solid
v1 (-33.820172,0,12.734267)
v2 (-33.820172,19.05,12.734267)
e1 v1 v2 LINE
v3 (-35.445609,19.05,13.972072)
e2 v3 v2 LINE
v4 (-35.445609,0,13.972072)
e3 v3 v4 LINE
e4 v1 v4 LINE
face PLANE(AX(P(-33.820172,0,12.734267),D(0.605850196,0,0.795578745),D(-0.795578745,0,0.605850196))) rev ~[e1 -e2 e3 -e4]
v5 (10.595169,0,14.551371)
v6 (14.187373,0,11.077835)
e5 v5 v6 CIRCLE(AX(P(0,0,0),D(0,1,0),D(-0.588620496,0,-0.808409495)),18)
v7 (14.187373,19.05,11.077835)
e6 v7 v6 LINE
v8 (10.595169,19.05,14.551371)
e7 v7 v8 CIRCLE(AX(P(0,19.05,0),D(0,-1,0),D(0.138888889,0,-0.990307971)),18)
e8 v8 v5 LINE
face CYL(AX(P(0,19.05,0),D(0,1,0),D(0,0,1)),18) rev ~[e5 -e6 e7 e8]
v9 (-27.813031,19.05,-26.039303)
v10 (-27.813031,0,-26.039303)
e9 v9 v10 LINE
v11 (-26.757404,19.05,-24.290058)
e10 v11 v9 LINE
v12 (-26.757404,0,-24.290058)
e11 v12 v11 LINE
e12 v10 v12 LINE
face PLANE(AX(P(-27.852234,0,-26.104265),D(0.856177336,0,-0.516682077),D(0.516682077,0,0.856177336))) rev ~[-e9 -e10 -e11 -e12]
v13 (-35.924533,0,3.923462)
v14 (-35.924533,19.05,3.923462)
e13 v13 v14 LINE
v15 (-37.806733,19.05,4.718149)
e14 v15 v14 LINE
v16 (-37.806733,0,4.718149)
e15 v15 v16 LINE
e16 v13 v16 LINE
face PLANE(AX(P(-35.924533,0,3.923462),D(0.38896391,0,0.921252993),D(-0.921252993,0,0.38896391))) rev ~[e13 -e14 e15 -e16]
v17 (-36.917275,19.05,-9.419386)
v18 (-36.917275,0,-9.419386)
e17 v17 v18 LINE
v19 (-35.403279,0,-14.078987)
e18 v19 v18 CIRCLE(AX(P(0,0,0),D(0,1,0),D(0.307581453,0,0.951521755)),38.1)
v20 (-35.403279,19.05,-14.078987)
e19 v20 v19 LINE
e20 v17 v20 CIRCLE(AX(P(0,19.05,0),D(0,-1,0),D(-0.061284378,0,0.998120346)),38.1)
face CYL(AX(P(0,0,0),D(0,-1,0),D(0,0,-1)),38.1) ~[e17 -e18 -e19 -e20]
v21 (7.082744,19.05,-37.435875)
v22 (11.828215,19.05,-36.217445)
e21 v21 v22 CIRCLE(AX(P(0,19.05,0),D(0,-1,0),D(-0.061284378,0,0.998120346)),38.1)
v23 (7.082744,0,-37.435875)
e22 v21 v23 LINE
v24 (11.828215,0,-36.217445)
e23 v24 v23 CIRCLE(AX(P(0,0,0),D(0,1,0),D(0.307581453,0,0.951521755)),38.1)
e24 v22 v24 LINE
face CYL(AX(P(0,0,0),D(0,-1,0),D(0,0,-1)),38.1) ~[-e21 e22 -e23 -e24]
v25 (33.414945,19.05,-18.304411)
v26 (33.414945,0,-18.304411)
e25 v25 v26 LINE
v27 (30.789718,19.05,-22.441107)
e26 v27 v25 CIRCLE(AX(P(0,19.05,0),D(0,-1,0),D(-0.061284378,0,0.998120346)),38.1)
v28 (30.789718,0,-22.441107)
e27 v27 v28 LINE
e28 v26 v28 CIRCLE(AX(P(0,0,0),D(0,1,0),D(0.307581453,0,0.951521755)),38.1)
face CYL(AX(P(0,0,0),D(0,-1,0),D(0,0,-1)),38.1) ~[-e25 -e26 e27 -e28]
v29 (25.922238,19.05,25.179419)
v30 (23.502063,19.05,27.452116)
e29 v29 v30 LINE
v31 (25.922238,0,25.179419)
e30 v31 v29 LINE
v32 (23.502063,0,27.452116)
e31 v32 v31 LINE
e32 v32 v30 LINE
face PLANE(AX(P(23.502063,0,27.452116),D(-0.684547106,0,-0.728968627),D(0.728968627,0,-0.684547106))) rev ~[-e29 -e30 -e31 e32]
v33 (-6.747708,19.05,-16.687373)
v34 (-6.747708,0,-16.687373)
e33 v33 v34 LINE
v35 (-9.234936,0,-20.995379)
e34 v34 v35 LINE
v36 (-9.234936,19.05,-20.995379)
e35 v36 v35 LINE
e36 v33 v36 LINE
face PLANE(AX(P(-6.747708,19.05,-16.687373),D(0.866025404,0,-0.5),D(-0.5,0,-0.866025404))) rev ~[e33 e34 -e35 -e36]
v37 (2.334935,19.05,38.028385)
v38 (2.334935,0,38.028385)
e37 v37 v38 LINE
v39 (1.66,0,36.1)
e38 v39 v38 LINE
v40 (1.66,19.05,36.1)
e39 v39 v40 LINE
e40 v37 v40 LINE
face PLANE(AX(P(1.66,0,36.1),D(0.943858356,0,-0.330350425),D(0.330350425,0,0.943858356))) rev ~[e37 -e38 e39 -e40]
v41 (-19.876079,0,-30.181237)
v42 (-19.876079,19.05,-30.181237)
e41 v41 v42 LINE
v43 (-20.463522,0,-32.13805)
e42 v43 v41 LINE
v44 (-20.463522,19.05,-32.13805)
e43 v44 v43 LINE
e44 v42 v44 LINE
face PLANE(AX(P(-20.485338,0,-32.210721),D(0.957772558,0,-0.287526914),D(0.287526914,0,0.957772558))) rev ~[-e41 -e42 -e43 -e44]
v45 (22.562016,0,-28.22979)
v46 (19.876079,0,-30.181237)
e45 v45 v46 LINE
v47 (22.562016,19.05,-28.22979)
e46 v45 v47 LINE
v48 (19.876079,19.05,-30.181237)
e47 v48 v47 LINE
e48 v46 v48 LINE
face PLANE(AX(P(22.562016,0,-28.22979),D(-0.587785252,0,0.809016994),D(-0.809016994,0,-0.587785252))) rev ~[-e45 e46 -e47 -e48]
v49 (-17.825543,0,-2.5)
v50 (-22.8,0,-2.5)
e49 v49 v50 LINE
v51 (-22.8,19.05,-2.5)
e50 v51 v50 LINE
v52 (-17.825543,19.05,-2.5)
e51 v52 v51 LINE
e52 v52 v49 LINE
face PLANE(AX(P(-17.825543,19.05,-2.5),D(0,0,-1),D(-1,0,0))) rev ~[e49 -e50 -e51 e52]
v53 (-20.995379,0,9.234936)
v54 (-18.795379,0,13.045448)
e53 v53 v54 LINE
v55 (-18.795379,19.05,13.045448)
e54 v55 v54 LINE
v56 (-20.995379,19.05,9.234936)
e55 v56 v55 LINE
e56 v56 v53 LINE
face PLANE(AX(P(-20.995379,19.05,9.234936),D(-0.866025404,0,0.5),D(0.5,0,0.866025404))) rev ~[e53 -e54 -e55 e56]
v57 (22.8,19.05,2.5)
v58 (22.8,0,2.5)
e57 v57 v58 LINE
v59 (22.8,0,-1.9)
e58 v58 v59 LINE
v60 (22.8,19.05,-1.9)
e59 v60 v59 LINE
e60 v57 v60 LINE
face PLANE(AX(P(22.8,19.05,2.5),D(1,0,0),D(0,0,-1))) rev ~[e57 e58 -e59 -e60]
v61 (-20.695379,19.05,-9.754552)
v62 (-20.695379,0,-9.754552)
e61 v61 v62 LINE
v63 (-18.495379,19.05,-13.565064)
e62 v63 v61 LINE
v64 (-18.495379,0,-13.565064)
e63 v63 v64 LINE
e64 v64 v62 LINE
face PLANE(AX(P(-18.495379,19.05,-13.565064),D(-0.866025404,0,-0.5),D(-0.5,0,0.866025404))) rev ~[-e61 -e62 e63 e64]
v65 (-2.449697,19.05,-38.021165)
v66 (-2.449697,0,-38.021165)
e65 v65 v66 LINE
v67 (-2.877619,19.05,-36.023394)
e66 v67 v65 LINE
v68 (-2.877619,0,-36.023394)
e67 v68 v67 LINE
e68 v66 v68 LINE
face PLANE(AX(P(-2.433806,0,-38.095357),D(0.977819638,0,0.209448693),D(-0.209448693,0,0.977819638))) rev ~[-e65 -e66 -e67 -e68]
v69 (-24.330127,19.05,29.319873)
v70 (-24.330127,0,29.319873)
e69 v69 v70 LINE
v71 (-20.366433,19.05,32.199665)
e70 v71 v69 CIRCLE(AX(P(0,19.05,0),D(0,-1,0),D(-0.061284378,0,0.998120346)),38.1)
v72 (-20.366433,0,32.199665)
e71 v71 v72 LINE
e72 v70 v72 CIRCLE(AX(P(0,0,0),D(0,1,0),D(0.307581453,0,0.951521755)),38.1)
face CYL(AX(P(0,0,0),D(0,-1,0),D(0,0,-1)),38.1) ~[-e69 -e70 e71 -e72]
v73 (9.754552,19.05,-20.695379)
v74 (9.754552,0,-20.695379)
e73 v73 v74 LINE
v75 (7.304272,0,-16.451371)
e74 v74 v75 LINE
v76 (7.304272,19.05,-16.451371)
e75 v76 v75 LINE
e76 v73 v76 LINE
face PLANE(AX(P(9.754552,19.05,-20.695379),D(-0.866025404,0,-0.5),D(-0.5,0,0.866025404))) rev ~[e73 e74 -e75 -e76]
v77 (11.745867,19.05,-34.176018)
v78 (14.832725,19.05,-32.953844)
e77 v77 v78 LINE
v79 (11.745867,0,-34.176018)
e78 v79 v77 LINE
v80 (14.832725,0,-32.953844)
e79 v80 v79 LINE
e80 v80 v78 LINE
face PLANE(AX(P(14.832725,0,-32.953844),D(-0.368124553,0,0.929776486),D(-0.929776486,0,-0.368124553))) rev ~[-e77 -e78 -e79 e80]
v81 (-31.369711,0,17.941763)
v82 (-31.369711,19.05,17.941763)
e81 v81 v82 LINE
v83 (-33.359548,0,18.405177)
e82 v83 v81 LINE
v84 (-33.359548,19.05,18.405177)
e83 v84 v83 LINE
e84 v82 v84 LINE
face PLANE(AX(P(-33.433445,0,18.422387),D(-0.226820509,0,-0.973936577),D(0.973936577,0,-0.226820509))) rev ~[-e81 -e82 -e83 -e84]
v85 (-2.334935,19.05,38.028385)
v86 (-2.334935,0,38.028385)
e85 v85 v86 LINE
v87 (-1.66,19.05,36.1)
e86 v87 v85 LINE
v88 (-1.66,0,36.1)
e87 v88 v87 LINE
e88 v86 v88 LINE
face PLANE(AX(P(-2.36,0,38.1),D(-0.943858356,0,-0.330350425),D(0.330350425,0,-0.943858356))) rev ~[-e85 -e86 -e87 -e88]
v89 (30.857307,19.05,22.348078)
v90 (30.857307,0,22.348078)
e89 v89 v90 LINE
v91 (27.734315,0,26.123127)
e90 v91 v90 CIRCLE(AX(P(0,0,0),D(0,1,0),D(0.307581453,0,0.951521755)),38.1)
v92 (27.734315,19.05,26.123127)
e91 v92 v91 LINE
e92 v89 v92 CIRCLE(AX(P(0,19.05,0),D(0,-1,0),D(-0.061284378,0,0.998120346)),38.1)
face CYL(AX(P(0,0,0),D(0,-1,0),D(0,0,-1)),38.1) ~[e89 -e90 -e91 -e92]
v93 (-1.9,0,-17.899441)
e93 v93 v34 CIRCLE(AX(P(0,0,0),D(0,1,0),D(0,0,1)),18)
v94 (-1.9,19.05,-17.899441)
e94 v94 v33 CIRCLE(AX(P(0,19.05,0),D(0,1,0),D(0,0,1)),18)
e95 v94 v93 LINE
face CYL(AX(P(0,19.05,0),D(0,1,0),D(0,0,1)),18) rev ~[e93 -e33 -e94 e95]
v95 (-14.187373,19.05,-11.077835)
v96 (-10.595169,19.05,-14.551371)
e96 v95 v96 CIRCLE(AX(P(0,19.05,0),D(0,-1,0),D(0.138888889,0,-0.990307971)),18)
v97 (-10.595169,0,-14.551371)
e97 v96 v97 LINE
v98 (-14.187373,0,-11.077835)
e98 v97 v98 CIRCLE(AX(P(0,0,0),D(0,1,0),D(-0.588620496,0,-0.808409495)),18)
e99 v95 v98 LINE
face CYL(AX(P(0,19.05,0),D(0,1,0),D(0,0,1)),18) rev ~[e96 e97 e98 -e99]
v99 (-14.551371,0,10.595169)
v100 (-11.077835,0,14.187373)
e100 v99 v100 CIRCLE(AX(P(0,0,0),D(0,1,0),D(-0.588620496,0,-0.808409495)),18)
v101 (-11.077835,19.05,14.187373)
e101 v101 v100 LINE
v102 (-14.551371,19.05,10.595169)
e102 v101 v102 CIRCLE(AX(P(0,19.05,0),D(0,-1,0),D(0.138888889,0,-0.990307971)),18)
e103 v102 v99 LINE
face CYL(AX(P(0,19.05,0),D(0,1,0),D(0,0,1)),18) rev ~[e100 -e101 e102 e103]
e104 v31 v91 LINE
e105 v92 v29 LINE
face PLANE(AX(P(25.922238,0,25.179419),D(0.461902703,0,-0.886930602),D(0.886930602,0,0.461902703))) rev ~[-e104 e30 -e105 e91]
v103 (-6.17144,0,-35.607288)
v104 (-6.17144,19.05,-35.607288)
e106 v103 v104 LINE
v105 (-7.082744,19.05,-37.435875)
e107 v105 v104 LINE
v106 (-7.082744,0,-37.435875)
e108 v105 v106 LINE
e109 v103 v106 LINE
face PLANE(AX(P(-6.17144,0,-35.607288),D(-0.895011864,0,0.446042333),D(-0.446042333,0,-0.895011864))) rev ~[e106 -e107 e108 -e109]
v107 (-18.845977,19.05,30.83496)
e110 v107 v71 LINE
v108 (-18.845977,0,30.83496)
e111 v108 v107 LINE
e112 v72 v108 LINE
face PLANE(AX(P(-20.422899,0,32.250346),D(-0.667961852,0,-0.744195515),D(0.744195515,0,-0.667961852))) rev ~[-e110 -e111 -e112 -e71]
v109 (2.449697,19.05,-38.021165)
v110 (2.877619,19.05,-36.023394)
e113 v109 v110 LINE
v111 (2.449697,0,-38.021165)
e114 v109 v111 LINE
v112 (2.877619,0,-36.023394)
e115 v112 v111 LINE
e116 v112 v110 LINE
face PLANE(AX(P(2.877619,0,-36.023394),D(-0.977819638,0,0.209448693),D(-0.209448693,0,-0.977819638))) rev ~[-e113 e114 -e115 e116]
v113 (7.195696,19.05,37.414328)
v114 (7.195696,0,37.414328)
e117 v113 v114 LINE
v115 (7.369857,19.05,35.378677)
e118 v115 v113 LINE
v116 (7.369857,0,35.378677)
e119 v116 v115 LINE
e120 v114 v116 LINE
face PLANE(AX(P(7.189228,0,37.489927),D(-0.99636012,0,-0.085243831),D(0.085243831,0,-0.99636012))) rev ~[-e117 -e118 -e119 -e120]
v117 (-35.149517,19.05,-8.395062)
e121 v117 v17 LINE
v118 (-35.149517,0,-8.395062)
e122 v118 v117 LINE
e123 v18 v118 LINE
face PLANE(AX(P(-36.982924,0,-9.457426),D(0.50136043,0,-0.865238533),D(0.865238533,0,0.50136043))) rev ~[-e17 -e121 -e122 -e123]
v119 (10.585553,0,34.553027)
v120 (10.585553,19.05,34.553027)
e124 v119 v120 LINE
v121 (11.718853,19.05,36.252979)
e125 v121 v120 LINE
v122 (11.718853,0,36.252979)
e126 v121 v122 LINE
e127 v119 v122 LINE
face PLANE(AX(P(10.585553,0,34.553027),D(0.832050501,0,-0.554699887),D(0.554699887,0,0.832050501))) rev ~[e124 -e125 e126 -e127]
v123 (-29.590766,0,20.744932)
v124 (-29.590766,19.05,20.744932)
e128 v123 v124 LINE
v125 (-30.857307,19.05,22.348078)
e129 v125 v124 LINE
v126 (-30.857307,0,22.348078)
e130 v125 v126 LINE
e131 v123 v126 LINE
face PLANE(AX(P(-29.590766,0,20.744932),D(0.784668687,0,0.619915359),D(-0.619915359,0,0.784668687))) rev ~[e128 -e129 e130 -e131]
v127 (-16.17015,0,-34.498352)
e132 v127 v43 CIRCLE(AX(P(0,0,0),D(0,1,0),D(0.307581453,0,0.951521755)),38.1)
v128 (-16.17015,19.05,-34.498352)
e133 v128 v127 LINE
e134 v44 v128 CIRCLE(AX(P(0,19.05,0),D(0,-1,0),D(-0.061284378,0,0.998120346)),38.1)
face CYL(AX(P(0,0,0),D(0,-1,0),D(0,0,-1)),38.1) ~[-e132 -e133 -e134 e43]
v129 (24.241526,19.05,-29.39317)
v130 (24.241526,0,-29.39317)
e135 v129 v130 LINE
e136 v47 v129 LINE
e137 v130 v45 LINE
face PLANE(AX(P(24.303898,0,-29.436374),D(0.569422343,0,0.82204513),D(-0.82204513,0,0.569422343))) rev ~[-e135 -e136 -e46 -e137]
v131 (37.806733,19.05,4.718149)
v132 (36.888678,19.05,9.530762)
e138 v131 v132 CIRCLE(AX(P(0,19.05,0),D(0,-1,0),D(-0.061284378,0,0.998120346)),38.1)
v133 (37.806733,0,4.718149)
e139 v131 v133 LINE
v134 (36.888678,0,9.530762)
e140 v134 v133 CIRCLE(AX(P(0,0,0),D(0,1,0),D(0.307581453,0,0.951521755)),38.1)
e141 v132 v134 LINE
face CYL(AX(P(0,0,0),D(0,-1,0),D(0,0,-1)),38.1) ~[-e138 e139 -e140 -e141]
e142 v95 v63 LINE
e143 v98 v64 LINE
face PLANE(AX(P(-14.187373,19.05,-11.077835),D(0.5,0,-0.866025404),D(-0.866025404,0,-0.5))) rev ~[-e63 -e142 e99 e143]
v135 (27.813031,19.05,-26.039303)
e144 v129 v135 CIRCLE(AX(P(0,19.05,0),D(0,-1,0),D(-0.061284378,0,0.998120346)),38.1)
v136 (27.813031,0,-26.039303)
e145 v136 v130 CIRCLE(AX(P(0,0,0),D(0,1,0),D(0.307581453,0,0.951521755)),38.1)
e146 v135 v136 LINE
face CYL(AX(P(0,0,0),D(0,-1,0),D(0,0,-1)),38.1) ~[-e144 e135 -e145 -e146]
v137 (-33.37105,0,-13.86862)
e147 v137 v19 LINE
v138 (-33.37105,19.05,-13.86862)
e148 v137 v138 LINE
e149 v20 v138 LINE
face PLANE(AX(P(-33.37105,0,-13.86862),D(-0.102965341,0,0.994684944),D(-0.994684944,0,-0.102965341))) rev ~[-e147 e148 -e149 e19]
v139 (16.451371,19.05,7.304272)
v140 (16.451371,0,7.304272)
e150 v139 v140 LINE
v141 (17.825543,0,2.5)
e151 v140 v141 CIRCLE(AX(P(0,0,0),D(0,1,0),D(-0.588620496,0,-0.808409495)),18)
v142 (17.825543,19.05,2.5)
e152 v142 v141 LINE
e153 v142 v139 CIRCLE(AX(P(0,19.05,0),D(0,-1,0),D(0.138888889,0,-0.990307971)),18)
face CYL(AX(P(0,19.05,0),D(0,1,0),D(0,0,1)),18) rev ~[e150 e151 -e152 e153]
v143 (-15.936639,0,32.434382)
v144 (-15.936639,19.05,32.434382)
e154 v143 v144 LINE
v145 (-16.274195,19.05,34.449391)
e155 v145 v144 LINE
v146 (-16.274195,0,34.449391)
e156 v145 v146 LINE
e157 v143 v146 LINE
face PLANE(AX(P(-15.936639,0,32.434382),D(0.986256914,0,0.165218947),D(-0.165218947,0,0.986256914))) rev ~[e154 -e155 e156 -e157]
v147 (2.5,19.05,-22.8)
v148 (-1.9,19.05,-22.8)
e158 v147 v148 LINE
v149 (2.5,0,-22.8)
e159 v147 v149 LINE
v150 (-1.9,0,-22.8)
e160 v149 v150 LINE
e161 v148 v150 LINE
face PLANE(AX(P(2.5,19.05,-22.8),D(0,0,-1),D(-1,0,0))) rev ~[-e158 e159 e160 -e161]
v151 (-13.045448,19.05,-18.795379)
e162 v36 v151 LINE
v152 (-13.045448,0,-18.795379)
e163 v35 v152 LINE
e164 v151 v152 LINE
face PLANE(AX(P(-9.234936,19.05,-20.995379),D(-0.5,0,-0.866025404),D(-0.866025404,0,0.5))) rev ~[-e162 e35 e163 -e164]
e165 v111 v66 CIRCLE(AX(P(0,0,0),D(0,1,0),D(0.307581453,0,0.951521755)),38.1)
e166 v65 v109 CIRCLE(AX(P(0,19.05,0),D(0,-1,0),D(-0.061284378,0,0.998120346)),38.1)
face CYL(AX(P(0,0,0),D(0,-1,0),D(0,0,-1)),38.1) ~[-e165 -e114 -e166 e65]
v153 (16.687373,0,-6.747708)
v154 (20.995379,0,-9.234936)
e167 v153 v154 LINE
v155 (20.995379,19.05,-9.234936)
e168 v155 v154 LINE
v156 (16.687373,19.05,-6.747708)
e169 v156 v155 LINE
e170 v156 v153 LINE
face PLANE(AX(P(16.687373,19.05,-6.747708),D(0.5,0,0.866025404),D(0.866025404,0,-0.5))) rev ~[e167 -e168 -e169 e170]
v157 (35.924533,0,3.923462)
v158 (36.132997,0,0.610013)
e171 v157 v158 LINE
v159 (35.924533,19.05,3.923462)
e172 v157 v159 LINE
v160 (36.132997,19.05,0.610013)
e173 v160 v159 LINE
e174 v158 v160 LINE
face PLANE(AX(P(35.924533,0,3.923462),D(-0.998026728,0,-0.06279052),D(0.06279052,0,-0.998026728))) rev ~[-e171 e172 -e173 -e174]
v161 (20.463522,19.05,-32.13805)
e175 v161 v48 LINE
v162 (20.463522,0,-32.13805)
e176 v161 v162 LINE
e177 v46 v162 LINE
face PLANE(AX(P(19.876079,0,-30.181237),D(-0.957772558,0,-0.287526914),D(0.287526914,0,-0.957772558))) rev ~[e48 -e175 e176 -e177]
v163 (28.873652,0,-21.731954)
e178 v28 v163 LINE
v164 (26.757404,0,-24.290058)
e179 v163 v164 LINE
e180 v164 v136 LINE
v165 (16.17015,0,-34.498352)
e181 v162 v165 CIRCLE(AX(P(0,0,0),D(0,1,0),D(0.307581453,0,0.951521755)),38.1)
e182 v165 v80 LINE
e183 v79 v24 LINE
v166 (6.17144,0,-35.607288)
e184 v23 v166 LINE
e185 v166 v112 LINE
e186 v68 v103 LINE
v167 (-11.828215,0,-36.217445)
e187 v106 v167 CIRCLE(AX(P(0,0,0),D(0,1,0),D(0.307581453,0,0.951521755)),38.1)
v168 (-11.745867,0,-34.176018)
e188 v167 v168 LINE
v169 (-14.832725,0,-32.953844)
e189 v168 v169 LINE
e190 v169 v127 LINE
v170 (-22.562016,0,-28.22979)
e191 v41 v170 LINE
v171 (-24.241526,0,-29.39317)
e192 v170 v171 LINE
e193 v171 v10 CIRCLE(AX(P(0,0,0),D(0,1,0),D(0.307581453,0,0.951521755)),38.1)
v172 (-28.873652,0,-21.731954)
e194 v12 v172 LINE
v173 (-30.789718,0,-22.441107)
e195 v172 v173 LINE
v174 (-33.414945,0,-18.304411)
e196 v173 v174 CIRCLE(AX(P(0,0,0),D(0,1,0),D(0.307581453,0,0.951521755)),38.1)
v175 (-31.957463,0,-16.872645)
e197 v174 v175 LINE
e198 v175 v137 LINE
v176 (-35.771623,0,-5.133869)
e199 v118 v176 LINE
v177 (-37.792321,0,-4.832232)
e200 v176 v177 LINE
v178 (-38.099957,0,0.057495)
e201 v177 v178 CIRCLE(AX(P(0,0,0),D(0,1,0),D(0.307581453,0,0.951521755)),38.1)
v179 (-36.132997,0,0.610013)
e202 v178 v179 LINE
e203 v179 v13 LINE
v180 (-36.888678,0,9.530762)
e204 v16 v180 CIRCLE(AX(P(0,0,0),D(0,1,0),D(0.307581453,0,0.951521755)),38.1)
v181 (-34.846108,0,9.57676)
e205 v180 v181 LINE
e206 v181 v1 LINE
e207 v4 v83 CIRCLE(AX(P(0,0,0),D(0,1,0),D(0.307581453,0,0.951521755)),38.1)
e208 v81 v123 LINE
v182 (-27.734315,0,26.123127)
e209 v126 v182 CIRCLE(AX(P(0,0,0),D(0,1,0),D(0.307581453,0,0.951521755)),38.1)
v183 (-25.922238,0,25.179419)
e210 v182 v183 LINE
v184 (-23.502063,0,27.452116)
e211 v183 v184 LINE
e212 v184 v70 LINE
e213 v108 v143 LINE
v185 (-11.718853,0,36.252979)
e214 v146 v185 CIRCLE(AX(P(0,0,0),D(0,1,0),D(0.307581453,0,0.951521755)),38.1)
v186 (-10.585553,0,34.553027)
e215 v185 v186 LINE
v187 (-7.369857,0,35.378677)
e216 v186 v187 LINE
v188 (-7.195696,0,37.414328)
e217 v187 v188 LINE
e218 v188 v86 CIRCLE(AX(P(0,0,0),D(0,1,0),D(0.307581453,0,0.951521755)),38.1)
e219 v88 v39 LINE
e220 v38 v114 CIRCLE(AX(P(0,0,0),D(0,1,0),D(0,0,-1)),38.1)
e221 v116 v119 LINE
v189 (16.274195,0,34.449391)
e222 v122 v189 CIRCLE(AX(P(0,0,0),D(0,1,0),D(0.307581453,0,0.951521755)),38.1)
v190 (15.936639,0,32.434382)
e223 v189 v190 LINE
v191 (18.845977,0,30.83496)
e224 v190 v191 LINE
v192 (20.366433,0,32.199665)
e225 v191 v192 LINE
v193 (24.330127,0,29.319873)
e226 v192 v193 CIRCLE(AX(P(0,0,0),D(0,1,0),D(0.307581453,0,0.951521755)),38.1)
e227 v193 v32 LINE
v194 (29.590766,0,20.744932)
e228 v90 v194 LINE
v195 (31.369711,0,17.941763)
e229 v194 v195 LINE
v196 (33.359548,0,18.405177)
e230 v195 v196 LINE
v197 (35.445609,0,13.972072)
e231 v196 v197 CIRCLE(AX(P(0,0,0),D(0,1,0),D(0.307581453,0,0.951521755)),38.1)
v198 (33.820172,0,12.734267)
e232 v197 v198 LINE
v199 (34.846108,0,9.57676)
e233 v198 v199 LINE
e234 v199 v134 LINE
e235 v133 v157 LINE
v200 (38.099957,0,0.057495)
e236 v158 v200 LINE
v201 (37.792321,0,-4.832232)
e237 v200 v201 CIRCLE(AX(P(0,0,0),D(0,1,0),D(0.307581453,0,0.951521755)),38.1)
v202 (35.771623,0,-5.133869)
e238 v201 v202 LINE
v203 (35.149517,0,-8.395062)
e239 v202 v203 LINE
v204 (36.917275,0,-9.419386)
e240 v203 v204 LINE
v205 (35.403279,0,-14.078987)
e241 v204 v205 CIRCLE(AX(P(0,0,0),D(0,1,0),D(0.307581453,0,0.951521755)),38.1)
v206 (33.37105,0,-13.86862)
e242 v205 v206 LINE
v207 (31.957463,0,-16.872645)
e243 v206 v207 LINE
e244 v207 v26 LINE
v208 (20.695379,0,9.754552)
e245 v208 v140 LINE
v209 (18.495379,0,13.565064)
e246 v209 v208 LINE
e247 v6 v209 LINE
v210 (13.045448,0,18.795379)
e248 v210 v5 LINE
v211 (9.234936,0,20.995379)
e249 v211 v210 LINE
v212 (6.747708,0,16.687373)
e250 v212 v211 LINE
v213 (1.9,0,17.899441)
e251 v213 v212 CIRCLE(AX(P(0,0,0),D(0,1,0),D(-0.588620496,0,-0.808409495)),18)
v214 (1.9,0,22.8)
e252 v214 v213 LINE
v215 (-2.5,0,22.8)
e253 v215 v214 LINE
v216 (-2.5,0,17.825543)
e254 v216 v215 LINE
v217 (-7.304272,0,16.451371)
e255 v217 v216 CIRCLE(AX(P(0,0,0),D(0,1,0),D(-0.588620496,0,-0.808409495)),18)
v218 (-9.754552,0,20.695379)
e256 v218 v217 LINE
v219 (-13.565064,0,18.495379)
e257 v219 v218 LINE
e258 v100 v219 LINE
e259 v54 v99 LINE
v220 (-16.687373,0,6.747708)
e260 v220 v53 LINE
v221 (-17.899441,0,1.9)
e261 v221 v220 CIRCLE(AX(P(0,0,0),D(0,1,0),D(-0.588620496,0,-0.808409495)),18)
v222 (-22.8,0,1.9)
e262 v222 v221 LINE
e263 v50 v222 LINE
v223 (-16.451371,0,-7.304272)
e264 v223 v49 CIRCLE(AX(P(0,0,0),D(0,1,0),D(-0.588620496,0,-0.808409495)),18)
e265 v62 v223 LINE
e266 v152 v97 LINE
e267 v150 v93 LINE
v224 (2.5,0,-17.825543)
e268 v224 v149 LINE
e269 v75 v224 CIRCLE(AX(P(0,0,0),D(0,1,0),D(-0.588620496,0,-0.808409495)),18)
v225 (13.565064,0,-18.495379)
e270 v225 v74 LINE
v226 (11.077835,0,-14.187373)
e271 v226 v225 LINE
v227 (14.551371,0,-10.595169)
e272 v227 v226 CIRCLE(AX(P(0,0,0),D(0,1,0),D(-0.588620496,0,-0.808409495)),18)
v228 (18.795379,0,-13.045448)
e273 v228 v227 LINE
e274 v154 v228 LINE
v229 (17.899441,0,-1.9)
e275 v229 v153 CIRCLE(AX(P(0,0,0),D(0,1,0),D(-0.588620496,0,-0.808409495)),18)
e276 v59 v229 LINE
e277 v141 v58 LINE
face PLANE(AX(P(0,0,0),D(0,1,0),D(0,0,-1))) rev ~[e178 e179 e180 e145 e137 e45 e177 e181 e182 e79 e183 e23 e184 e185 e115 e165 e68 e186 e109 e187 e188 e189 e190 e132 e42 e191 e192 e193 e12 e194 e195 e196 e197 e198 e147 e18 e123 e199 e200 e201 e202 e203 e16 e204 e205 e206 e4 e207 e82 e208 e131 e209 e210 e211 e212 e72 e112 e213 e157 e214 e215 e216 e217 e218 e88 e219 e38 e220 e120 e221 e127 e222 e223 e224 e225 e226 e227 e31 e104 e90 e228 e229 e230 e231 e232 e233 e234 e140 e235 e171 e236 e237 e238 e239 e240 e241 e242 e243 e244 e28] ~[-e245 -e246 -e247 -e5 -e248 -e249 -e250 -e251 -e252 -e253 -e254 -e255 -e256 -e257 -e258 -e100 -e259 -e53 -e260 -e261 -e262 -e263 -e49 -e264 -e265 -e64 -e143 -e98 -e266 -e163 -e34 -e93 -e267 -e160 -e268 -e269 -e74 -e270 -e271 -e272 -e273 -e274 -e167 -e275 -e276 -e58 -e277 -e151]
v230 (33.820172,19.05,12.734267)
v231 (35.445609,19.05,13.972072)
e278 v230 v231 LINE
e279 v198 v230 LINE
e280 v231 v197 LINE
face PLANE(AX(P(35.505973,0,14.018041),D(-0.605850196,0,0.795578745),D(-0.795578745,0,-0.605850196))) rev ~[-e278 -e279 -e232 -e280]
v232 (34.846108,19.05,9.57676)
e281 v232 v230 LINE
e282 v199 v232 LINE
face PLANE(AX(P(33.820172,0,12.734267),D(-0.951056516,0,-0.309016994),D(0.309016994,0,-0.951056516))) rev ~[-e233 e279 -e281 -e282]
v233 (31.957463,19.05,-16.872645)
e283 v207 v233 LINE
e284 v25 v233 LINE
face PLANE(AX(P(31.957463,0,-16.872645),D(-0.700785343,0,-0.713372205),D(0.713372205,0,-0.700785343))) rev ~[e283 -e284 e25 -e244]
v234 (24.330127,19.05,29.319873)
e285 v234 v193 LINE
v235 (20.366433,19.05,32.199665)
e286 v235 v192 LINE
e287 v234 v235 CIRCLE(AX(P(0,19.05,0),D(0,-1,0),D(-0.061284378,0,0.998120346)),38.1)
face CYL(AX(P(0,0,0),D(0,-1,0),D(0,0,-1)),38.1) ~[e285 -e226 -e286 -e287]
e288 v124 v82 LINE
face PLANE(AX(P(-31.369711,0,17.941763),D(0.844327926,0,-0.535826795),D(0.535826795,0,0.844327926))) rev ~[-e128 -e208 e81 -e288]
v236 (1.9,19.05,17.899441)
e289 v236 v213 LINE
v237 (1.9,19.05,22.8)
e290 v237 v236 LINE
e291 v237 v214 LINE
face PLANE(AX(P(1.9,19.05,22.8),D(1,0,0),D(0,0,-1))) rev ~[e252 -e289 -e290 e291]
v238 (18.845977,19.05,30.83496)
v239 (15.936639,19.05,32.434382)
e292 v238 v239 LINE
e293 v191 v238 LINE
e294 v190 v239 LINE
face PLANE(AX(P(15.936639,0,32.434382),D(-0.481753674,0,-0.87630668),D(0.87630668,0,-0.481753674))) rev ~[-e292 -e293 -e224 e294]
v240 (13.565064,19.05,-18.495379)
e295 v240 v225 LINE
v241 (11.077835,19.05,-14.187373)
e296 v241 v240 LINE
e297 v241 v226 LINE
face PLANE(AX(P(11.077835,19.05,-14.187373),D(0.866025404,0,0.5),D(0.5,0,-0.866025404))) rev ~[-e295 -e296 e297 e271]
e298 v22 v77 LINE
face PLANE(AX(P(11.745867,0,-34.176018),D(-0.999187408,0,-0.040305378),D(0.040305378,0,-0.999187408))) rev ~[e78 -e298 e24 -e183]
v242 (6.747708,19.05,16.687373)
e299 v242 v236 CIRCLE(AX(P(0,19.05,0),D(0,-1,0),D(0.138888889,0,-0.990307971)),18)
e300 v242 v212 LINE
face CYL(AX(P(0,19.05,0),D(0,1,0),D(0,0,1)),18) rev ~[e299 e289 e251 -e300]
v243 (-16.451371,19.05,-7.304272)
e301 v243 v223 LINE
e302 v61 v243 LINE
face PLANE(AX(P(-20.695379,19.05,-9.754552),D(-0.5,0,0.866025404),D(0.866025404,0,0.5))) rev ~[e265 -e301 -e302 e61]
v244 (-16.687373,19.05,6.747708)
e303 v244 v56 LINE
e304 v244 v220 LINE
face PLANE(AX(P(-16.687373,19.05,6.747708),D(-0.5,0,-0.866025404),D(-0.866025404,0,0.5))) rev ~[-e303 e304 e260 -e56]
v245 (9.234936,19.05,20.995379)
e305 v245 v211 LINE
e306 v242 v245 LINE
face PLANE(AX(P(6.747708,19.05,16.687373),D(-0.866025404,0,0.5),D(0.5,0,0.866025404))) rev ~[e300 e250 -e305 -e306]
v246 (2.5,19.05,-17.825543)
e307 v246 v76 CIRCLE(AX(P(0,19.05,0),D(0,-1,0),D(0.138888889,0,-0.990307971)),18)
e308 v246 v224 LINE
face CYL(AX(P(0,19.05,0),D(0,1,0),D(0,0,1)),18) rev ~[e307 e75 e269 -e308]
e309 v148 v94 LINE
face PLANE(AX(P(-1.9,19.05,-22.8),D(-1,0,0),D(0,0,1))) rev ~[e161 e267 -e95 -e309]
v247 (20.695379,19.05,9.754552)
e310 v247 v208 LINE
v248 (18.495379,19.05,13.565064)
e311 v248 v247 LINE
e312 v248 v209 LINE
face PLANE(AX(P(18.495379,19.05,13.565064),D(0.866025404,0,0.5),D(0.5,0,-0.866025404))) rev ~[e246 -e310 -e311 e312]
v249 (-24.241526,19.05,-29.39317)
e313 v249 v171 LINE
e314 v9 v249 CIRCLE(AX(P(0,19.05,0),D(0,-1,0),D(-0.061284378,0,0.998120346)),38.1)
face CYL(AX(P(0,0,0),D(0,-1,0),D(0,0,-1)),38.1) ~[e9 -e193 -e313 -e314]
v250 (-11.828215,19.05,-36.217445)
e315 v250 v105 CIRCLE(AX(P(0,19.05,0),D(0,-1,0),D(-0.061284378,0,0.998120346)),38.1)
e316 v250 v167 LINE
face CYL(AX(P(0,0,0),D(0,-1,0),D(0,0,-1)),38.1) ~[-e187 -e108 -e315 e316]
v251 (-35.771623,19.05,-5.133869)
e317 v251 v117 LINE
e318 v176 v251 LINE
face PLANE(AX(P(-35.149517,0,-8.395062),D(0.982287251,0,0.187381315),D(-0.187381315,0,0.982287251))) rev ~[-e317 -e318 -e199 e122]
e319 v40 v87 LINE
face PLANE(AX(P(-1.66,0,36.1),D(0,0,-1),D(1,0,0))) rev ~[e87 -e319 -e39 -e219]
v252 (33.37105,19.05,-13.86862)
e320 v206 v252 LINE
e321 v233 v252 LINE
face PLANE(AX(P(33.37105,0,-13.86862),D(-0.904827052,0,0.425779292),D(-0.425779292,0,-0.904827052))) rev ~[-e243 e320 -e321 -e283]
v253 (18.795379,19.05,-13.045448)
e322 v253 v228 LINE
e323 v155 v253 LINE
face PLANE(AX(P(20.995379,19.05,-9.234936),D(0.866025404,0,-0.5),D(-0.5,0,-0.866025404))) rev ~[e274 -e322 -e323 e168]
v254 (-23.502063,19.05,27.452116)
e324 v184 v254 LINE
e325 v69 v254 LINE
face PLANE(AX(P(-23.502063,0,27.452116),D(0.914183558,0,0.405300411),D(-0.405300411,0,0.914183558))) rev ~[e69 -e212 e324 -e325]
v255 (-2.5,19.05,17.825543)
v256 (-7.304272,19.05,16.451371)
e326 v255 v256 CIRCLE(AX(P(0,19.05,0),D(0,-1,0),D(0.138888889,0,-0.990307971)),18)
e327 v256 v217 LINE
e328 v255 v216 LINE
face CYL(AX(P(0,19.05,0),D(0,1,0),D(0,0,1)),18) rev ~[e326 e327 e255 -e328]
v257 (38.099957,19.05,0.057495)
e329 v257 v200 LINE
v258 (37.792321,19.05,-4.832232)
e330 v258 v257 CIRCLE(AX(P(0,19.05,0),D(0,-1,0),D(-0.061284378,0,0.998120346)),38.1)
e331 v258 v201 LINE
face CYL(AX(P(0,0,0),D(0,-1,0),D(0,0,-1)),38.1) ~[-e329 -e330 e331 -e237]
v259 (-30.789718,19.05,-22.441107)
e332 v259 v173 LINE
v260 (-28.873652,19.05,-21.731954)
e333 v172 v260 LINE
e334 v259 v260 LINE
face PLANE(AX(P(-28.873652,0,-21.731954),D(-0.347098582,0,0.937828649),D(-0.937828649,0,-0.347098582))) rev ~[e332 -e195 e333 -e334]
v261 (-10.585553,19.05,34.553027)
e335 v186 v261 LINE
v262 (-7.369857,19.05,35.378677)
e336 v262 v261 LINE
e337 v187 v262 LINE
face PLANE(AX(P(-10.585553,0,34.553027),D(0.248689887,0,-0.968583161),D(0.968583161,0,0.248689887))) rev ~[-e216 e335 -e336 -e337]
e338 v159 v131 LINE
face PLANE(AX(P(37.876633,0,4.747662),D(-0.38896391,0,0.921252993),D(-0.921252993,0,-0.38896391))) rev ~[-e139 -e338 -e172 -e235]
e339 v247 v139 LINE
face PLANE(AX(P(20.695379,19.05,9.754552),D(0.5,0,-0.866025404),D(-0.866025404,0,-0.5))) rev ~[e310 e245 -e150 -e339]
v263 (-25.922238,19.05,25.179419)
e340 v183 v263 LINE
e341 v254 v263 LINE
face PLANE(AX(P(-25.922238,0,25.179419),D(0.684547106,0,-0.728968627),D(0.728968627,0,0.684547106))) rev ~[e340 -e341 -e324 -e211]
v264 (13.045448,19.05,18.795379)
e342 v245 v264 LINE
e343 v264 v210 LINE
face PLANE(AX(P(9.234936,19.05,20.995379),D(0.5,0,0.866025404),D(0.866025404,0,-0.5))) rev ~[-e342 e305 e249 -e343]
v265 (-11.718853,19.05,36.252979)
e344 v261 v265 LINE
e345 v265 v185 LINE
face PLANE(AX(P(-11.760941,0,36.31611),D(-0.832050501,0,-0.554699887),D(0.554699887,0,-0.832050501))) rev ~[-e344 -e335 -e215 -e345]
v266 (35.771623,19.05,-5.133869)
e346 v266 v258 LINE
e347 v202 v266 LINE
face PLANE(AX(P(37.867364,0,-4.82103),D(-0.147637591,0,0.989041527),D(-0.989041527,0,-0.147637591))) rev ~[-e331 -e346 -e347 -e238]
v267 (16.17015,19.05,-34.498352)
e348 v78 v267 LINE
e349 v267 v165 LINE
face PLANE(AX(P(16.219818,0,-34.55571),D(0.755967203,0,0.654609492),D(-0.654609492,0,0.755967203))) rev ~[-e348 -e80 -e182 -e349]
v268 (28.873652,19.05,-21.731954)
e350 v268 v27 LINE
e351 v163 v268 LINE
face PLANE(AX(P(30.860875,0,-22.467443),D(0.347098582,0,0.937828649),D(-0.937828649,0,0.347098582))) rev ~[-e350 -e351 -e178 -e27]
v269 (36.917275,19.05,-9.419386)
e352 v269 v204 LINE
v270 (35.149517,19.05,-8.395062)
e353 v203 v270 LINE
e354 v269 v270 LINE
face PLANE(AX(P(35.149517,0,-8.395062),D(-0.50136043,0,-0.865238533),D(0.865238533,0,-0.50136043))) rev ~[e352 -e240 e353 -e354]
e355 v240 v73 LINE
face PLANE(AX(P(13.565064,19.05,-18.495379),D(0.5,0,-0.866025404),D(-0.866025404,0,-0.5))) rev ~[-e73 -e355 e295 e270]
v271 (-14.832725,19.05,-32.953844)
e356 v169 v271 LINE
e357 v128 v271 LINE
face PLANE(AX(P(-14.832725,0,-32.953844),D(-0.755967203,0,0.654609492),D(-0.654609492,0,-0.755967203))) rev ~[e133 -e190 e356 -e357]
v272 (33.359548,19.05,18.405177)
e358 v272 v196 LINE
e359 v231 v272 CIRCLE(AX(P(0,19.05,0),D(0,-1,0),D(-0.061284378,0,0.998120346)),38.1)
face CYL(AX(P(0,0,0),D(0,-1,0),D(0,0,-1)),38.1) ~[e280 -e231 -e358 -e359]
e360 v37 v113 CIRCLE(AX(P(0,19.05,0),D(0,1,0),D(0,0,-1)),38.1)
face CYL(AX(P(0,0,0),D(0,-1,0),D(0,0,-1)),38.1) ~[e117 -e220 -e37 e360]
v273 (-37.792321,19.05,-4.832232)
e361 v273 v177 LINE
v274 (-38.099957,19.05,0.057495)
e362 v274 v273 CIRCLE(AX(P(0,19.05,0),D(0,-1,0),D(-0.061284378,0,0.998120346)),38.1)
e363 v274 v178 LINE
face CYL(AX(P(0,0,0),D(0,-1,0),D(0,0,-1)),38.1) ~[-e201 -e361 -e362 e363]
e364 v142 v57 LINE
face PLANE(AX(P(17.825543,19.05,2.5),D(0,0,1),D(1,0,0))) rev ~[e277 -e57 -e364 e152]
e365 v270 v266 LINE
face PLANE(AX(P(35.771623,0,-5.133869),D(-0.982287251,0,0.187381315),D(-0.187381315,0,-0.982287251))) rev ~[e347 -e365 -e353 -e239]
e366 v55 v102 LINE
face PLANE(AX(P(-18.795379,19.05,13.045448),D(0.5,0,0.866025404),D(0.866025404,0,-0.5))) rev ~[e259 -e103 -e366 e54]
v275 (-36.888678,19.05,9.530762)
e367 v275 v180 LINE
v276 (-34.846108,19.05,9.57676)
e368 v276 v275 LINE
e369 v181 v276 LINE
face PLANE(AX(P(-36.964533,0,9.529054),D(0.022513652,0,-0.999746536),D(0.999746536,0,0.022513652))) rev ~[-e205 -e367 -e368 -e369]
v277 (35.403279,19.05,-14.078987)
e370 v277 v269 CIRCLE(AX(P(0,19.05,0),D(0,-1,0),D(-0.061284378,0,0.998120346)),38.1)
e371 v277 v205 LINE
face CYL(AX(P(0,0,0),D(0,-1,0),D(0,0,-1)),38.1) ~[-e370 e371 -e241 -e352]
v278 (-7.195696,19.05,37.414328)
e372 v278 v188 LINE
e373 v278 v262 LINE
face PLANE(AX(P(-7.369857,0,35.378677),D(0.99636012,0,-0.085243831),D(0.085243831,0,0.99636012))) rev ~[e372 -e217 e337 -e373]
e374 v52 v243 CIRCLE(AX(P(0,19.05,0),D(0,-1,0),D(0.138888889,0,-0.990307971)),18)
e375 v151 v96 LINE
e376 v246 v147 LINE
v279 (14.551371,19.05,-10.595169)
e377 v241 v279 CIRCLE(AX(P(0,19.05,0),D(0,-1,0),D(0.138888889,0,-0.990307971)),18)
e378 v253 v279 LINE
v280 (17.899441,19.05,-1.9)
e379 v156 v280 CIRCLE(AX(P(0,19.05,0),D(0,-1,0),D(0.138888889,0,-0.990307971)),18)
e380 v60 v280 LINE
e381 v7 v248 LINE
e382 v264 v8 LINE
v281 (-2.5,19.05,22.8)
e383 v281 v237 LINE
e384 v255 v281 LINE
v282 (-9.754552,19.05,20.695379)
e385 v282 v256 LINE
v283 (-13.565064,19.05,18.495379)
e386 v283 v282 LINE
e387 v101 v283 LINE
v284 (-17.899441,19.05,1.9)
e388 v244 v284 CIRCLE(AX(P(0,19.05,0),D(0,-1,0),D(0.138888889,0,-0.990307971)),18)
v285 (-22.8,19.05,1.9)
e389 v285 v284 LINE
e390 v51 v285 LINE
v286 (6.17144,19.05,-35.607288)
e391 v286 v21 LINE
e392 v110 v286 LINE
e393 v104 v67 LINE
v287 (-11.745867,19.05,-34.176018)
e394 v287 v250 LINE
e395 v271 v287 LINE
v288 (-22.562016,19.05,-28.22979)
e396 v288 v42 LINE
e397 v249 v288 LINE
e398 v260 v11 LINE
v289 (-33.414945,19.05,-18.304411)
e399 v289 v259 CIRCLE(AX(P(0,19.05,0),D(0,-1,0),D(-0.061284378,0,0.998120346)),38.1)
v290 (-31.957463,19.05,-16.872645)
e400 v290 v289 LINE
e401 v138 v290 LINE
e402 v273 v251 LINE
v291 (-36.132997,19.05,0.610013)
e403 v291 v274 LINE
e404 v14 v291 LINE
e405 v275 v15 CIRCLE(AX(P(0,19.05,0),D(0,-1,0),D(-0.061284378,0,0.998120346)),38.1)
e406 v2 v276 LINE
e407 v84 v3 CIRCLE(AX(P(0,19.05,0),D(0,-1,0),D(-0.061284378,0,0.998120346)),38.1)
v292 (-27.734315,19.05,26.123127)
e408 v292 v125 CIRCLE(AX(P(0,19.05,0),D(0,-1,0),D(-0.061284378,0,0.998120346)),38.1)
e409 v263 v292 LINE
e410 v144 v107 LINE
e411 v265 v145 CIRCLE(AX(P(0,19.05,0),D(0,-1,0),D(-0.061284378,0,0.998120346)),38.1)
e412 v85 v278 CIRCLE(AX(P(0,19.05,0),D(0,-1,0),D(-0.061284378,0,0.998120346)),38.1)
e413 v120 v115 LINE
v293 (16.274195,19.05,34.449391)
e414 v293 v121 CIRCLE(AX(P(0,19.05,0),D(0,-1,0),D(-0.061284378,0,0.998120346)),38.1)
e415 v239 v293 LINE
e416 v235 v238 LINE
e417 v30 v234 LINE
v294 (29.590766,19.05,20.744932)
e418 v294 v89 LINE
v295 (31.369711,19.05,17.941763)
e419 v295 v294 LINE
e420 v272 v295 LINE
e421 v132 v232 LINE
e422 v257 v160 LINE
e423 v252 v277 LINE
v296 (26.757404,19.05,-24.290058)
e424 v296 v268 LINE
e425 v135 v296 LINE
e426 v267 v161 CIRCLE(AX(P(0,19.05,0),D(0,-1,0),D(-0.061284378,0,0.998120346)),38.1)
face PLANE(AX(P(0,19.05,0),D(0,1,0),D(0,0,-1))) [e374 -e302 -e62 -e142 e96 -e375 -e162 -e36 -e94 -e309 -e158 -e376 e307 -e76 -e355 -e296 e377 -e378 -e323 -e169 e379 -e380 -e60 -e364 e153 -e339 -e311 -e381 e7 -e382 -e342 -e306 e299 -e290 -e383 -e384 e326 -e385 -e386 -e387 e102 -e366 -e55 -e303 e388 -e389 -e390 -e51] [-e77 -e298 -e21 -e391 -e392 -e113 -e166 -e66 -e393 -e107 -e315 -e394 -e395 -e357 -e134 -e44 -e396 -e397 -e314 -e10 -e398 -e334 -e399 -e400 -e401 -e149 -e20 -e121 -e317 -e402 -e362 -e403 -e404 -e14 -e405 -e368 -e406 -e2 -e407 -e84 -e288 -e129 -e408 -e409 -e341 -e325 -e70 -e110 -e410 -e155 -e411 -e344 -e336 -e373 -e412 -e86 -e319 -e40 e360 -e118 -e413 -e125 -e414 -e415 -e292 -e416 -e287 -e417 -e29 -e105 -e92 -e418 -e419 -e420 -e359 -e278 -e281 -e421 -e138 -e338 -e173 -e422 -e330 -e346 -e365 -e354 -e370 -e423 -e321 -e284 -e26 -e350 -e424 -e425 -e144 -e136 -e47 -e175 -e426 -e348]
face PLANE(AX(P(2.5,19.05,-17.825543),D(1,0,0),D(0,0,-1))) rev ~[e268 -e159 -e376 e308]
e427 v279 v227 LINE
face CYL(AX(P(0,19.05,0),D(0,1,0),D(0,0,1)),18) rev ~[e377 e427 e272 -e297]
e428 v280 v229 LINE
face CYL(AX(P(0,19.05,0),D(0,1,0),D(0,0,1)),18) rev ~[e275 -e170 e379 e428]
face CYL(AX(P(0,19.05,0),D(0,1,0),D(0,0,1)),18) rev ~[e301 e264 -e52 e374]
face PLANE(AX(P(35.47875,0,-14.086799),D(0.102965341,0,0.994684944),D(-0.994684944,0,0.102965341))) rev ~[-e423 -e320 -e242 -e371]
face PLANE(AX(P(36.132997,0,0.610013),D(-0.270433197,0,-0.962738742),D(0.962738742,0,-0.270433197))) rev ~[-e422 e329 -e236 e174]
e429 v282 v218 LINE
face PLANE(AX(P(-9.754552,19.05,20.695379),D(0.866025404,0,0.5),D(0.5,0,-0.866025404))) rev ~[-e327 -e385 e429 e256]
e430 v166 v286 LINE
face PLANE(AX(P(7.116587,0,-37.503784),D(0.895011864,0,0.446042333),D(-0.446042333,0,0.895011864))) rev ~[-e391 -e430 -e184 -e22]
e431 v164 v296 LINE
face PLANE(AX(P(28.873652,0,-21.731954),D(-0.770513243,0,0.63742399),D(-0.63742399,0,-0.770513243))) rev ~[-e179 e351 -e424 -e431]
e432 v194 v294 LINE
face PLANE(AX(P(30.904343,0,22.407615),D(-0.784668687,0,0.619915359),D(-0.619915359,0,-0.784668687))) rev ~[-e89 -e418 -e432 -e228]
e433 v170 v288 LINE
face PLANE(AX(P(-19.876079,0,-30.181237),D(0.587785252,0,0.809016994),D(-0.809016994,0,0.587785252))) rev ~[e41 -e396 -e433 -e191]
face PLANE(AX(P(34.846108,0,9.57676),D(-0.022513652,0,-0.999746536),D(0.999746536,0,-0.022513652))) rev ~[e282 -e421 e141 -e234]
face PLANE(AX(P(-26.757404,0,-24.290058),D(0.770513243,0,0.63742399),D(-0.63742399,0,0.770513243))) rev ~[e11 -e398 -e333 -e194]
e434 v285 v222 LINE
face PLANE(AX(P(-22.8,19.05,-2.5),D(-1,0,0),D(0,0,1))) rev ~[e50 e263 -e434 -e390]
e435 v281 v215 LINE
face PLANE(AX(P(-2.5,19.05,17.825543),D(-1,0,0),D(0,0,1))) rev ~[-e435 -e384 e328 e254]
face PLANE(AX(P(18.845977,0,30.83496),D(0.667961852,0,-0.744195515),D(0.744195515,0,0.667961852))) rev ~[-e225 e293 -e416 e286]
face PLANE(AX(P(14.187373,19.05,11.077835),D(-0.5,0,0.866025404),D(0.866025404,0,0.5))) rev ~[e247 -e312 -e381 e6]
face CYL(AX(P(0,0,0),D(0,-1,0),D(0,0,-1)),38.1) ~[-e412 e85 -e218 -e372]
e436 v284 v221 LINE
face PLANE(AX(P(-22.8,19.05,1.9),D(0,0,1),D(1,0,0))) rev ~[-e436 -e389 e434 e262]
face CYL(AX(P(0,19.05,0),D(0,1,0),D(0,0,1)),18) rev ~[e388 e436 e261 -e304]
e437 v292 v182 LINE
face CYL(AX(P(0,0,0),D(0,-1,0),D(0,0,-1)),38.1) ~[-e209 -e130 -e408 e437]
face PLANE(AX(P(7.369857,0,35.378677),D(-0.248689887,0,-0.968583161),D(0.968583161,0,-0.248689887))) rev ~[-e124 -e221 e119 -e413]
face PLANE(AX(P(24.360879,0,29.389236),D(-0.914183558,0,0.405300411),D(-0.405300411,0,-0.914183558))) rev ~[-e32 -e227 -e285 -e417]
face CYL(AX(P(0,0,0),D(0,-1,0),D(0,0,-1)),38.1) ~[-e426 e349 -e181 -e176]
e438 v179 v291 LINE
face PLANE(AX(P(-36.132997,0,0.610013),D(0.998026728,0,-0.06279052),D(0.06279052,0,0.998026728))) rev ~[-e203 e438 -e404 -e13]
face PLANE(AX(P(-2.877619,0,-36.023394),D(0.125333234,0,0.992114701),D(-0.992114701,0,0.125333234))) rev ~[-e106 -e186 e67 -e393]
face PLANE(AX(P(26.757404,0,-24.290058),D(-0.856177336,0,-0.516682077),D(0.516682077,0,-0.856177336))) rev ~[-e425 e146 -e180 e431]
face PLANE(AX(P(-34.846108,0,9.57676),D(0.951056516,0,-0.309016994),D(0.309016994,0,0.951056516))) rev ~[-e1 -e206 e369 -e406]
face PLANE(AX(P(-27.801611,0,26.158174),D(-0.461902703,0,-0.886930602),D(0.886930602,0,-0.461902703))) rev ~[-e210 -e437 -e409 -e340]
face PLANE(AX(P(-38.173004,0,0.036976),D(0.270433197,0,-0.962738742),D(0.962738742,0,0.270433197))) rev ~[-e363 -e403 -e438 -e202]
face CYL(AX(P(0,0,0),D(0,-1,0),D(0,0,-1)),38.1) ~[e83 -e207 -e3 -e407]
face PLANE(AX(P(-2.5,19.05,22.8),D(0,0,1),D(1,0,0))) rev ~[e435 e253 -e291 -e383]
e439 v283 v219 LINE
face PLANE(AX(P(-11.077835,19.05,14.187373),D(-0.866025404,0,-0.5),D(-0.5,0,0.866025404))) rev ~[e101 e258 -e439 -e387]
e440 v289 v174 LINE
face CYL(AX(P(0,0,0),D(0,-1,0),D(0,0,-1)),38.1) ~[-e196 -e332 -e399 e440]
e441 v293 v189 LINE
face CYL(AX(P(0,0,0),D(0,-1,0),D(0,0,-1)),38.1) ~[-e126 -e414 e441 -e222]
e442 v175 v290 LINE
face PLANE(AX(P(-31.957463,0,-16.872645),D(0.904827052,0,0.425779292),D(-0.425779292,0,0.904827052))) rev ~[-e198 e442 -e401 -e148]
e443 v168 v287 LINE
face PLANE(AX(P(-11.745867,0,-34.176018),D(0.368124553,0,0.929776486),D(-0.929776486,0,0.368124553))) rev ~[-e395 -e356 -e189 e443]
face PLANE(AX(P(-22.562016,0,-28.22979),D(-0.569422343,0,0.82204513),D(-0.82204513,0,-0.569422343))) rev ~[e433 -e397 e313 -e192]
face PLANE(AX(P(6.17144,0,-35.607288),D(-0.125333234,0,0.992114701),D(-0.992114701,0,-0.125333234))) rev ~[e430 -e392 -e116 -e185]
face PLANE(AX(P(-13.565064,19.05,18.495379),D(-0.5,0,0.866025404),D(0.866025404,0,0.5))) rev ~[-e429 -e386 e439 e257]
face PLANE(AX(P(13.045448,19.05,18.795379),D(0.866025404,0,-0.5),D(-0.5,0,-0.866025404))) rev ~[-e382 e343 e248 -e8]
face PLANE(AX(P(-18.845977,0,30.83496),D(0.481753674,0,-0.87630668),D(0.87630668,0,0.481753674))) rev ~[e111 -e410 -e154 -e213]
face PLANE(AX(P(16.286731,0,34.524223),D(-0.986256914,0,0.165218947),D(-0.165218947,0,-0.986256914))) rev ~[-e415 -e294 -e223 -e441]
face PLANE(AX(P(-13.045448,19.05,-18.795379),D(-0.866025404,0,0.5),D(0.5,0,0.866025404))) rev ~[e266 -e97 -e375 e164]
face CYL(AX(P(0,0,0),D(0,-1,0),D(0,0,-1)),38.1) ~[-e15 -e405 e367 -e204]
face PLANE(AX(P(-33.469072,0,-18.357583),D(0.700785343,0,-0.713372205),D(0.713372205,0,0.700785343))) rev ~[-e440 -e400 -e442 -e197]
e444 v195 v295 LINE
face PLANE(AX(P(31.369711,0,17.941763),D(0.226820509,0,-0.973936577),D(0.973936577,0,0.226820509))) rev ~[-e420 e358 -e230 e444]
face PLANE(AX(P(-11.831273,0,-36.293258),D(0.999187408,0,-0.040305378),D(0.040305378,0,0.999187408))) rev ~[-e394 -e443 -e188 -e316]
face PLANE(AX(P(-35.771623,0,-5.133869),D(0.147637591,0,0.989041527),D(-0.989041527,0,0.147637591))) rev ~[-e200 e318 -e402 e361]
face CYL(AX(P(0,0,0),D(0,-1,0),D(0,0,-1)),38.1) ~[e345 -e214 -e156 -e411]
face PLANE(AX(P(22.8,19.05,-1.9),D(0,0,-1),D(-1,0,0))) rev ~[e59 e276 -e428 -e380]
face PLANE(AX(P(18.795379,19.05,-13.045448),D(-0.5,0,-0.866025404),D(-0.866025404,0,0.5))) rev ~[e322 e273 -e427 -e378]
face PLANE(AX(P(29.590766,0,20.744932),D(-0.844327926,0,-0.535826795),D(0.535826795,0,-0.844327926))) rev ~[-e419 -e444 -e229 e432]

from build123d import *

# Parameters (mm, degrees)
SKETCH1_R           = 38.1
BOSS_EXTRUDE1_DEPTH = 19.05
CUT_EXTRUDE1_DEPTH  = 33
CIRPATTERN1_COUNT   = 25
CUT_EXTRUDE2_DEPTH  = 28
CUT_EXTRUDE8_DEPTH  = 23
CIRPATTERN2_COUNT   = 12


with BuildPart() as part:
    # Sketch1 → Boss-Extrude1 (new body)
    with BuildSketch(Plane(origin=(0, 0, 0), x_dir=(1, 0, 0), z_dir=(0, 1, 0))):
        Circle(SKETCH1_R)
    extrude(amount=BOSS_EXTRUDE1_DEPTH)

    # Sketch2 → Cut-Extrude1 (cut)
    with BuildSketch(Plane.XZ):
        Polygon((0, 38.1), (-2.36, 38.1), (-1.66, 36.1), (0, 36.1), (1.66, 36.1), (2.36, 38.1), align=None)
    cut_extrude1 = extrude(amount=-CUT_EXTRUDE1_DEPTH, mode=Mode.SUBTRACT)

    # CirPattern1: Cut-Extrude1 ×25 about axis
    cirpattern1_axis = Axis((0, 0, 0), (0, 1, 0))
    for i in range(1, CIRPATTERN1_COUNT):
        add(cut_extrude1.rotate(cirpattern1_axis, i * 360 / CIRPATTERN1_COUNT), mode=Mode.SUBTRACT)

    # Sketch3 → Cut-Extrude2 (cut)
    with BuildSketch(Plane(origin=(0, 19.05, 0), x_dir=(1, 0, 0), z_dir=(0, 1, 0))):
        with BuildLine():
            ThreePointArc((2.5, 17.82554347), (0.302266808, 17.997461898), (-1.9, 17.899441332))
            ThreePointArc((-1.9, 17.899441332), (-12.037441589, -13.382824814), (18, 0))
            ThreePointArc((18, 0), (13.583077707, 11.811011811), (2.5, 17.82554347))
        make_face()
    extrude(amount=-CUT_EXTRUDE2_DEPTH, mode=Mode.SUBTRACT)

    # Sketch3<7> → Cut-Extrude8 (cut)
    with BuildSketch(Plane(origin=(0, 19.05, 0), x_dir=(1, 0, 0), z_dir=(0, 1, 0))):
        with BuildLine():
            Line((0.3, 22.8), (-1.9, 22.8))
            Line((-1.9, 22.8), (-1.9, 17.899441332))
            ThreePointArc((-1.9, 17.899441332), (0.302266808, 17.997461898), (2.5, 17.82554347))
            Line((2.5, 17.82554347), (2.5, 22.8))
            Line((2.5, 22.8), (0.3, 22.8))
        make_face()
    cut_extrude8 = extrude(amount=-CUT_EXTRUDE8_DEPTH, mode=Mode.SUBTRACT)

    # CirPattern2: Cut-Extrude8 ×12 about axis
    cirpattern2_axis = Axis((0, 19.05, 0), (0, 1, 0))
    for i in range(1, CIRPATTERN2_COUNT):
        add(cut_extrude8.rotate(cirpattern2_axis, i * 360 / CIRPATTERN2_COUNT), mode=Mode.SUBTRACT)


solid = part.part
